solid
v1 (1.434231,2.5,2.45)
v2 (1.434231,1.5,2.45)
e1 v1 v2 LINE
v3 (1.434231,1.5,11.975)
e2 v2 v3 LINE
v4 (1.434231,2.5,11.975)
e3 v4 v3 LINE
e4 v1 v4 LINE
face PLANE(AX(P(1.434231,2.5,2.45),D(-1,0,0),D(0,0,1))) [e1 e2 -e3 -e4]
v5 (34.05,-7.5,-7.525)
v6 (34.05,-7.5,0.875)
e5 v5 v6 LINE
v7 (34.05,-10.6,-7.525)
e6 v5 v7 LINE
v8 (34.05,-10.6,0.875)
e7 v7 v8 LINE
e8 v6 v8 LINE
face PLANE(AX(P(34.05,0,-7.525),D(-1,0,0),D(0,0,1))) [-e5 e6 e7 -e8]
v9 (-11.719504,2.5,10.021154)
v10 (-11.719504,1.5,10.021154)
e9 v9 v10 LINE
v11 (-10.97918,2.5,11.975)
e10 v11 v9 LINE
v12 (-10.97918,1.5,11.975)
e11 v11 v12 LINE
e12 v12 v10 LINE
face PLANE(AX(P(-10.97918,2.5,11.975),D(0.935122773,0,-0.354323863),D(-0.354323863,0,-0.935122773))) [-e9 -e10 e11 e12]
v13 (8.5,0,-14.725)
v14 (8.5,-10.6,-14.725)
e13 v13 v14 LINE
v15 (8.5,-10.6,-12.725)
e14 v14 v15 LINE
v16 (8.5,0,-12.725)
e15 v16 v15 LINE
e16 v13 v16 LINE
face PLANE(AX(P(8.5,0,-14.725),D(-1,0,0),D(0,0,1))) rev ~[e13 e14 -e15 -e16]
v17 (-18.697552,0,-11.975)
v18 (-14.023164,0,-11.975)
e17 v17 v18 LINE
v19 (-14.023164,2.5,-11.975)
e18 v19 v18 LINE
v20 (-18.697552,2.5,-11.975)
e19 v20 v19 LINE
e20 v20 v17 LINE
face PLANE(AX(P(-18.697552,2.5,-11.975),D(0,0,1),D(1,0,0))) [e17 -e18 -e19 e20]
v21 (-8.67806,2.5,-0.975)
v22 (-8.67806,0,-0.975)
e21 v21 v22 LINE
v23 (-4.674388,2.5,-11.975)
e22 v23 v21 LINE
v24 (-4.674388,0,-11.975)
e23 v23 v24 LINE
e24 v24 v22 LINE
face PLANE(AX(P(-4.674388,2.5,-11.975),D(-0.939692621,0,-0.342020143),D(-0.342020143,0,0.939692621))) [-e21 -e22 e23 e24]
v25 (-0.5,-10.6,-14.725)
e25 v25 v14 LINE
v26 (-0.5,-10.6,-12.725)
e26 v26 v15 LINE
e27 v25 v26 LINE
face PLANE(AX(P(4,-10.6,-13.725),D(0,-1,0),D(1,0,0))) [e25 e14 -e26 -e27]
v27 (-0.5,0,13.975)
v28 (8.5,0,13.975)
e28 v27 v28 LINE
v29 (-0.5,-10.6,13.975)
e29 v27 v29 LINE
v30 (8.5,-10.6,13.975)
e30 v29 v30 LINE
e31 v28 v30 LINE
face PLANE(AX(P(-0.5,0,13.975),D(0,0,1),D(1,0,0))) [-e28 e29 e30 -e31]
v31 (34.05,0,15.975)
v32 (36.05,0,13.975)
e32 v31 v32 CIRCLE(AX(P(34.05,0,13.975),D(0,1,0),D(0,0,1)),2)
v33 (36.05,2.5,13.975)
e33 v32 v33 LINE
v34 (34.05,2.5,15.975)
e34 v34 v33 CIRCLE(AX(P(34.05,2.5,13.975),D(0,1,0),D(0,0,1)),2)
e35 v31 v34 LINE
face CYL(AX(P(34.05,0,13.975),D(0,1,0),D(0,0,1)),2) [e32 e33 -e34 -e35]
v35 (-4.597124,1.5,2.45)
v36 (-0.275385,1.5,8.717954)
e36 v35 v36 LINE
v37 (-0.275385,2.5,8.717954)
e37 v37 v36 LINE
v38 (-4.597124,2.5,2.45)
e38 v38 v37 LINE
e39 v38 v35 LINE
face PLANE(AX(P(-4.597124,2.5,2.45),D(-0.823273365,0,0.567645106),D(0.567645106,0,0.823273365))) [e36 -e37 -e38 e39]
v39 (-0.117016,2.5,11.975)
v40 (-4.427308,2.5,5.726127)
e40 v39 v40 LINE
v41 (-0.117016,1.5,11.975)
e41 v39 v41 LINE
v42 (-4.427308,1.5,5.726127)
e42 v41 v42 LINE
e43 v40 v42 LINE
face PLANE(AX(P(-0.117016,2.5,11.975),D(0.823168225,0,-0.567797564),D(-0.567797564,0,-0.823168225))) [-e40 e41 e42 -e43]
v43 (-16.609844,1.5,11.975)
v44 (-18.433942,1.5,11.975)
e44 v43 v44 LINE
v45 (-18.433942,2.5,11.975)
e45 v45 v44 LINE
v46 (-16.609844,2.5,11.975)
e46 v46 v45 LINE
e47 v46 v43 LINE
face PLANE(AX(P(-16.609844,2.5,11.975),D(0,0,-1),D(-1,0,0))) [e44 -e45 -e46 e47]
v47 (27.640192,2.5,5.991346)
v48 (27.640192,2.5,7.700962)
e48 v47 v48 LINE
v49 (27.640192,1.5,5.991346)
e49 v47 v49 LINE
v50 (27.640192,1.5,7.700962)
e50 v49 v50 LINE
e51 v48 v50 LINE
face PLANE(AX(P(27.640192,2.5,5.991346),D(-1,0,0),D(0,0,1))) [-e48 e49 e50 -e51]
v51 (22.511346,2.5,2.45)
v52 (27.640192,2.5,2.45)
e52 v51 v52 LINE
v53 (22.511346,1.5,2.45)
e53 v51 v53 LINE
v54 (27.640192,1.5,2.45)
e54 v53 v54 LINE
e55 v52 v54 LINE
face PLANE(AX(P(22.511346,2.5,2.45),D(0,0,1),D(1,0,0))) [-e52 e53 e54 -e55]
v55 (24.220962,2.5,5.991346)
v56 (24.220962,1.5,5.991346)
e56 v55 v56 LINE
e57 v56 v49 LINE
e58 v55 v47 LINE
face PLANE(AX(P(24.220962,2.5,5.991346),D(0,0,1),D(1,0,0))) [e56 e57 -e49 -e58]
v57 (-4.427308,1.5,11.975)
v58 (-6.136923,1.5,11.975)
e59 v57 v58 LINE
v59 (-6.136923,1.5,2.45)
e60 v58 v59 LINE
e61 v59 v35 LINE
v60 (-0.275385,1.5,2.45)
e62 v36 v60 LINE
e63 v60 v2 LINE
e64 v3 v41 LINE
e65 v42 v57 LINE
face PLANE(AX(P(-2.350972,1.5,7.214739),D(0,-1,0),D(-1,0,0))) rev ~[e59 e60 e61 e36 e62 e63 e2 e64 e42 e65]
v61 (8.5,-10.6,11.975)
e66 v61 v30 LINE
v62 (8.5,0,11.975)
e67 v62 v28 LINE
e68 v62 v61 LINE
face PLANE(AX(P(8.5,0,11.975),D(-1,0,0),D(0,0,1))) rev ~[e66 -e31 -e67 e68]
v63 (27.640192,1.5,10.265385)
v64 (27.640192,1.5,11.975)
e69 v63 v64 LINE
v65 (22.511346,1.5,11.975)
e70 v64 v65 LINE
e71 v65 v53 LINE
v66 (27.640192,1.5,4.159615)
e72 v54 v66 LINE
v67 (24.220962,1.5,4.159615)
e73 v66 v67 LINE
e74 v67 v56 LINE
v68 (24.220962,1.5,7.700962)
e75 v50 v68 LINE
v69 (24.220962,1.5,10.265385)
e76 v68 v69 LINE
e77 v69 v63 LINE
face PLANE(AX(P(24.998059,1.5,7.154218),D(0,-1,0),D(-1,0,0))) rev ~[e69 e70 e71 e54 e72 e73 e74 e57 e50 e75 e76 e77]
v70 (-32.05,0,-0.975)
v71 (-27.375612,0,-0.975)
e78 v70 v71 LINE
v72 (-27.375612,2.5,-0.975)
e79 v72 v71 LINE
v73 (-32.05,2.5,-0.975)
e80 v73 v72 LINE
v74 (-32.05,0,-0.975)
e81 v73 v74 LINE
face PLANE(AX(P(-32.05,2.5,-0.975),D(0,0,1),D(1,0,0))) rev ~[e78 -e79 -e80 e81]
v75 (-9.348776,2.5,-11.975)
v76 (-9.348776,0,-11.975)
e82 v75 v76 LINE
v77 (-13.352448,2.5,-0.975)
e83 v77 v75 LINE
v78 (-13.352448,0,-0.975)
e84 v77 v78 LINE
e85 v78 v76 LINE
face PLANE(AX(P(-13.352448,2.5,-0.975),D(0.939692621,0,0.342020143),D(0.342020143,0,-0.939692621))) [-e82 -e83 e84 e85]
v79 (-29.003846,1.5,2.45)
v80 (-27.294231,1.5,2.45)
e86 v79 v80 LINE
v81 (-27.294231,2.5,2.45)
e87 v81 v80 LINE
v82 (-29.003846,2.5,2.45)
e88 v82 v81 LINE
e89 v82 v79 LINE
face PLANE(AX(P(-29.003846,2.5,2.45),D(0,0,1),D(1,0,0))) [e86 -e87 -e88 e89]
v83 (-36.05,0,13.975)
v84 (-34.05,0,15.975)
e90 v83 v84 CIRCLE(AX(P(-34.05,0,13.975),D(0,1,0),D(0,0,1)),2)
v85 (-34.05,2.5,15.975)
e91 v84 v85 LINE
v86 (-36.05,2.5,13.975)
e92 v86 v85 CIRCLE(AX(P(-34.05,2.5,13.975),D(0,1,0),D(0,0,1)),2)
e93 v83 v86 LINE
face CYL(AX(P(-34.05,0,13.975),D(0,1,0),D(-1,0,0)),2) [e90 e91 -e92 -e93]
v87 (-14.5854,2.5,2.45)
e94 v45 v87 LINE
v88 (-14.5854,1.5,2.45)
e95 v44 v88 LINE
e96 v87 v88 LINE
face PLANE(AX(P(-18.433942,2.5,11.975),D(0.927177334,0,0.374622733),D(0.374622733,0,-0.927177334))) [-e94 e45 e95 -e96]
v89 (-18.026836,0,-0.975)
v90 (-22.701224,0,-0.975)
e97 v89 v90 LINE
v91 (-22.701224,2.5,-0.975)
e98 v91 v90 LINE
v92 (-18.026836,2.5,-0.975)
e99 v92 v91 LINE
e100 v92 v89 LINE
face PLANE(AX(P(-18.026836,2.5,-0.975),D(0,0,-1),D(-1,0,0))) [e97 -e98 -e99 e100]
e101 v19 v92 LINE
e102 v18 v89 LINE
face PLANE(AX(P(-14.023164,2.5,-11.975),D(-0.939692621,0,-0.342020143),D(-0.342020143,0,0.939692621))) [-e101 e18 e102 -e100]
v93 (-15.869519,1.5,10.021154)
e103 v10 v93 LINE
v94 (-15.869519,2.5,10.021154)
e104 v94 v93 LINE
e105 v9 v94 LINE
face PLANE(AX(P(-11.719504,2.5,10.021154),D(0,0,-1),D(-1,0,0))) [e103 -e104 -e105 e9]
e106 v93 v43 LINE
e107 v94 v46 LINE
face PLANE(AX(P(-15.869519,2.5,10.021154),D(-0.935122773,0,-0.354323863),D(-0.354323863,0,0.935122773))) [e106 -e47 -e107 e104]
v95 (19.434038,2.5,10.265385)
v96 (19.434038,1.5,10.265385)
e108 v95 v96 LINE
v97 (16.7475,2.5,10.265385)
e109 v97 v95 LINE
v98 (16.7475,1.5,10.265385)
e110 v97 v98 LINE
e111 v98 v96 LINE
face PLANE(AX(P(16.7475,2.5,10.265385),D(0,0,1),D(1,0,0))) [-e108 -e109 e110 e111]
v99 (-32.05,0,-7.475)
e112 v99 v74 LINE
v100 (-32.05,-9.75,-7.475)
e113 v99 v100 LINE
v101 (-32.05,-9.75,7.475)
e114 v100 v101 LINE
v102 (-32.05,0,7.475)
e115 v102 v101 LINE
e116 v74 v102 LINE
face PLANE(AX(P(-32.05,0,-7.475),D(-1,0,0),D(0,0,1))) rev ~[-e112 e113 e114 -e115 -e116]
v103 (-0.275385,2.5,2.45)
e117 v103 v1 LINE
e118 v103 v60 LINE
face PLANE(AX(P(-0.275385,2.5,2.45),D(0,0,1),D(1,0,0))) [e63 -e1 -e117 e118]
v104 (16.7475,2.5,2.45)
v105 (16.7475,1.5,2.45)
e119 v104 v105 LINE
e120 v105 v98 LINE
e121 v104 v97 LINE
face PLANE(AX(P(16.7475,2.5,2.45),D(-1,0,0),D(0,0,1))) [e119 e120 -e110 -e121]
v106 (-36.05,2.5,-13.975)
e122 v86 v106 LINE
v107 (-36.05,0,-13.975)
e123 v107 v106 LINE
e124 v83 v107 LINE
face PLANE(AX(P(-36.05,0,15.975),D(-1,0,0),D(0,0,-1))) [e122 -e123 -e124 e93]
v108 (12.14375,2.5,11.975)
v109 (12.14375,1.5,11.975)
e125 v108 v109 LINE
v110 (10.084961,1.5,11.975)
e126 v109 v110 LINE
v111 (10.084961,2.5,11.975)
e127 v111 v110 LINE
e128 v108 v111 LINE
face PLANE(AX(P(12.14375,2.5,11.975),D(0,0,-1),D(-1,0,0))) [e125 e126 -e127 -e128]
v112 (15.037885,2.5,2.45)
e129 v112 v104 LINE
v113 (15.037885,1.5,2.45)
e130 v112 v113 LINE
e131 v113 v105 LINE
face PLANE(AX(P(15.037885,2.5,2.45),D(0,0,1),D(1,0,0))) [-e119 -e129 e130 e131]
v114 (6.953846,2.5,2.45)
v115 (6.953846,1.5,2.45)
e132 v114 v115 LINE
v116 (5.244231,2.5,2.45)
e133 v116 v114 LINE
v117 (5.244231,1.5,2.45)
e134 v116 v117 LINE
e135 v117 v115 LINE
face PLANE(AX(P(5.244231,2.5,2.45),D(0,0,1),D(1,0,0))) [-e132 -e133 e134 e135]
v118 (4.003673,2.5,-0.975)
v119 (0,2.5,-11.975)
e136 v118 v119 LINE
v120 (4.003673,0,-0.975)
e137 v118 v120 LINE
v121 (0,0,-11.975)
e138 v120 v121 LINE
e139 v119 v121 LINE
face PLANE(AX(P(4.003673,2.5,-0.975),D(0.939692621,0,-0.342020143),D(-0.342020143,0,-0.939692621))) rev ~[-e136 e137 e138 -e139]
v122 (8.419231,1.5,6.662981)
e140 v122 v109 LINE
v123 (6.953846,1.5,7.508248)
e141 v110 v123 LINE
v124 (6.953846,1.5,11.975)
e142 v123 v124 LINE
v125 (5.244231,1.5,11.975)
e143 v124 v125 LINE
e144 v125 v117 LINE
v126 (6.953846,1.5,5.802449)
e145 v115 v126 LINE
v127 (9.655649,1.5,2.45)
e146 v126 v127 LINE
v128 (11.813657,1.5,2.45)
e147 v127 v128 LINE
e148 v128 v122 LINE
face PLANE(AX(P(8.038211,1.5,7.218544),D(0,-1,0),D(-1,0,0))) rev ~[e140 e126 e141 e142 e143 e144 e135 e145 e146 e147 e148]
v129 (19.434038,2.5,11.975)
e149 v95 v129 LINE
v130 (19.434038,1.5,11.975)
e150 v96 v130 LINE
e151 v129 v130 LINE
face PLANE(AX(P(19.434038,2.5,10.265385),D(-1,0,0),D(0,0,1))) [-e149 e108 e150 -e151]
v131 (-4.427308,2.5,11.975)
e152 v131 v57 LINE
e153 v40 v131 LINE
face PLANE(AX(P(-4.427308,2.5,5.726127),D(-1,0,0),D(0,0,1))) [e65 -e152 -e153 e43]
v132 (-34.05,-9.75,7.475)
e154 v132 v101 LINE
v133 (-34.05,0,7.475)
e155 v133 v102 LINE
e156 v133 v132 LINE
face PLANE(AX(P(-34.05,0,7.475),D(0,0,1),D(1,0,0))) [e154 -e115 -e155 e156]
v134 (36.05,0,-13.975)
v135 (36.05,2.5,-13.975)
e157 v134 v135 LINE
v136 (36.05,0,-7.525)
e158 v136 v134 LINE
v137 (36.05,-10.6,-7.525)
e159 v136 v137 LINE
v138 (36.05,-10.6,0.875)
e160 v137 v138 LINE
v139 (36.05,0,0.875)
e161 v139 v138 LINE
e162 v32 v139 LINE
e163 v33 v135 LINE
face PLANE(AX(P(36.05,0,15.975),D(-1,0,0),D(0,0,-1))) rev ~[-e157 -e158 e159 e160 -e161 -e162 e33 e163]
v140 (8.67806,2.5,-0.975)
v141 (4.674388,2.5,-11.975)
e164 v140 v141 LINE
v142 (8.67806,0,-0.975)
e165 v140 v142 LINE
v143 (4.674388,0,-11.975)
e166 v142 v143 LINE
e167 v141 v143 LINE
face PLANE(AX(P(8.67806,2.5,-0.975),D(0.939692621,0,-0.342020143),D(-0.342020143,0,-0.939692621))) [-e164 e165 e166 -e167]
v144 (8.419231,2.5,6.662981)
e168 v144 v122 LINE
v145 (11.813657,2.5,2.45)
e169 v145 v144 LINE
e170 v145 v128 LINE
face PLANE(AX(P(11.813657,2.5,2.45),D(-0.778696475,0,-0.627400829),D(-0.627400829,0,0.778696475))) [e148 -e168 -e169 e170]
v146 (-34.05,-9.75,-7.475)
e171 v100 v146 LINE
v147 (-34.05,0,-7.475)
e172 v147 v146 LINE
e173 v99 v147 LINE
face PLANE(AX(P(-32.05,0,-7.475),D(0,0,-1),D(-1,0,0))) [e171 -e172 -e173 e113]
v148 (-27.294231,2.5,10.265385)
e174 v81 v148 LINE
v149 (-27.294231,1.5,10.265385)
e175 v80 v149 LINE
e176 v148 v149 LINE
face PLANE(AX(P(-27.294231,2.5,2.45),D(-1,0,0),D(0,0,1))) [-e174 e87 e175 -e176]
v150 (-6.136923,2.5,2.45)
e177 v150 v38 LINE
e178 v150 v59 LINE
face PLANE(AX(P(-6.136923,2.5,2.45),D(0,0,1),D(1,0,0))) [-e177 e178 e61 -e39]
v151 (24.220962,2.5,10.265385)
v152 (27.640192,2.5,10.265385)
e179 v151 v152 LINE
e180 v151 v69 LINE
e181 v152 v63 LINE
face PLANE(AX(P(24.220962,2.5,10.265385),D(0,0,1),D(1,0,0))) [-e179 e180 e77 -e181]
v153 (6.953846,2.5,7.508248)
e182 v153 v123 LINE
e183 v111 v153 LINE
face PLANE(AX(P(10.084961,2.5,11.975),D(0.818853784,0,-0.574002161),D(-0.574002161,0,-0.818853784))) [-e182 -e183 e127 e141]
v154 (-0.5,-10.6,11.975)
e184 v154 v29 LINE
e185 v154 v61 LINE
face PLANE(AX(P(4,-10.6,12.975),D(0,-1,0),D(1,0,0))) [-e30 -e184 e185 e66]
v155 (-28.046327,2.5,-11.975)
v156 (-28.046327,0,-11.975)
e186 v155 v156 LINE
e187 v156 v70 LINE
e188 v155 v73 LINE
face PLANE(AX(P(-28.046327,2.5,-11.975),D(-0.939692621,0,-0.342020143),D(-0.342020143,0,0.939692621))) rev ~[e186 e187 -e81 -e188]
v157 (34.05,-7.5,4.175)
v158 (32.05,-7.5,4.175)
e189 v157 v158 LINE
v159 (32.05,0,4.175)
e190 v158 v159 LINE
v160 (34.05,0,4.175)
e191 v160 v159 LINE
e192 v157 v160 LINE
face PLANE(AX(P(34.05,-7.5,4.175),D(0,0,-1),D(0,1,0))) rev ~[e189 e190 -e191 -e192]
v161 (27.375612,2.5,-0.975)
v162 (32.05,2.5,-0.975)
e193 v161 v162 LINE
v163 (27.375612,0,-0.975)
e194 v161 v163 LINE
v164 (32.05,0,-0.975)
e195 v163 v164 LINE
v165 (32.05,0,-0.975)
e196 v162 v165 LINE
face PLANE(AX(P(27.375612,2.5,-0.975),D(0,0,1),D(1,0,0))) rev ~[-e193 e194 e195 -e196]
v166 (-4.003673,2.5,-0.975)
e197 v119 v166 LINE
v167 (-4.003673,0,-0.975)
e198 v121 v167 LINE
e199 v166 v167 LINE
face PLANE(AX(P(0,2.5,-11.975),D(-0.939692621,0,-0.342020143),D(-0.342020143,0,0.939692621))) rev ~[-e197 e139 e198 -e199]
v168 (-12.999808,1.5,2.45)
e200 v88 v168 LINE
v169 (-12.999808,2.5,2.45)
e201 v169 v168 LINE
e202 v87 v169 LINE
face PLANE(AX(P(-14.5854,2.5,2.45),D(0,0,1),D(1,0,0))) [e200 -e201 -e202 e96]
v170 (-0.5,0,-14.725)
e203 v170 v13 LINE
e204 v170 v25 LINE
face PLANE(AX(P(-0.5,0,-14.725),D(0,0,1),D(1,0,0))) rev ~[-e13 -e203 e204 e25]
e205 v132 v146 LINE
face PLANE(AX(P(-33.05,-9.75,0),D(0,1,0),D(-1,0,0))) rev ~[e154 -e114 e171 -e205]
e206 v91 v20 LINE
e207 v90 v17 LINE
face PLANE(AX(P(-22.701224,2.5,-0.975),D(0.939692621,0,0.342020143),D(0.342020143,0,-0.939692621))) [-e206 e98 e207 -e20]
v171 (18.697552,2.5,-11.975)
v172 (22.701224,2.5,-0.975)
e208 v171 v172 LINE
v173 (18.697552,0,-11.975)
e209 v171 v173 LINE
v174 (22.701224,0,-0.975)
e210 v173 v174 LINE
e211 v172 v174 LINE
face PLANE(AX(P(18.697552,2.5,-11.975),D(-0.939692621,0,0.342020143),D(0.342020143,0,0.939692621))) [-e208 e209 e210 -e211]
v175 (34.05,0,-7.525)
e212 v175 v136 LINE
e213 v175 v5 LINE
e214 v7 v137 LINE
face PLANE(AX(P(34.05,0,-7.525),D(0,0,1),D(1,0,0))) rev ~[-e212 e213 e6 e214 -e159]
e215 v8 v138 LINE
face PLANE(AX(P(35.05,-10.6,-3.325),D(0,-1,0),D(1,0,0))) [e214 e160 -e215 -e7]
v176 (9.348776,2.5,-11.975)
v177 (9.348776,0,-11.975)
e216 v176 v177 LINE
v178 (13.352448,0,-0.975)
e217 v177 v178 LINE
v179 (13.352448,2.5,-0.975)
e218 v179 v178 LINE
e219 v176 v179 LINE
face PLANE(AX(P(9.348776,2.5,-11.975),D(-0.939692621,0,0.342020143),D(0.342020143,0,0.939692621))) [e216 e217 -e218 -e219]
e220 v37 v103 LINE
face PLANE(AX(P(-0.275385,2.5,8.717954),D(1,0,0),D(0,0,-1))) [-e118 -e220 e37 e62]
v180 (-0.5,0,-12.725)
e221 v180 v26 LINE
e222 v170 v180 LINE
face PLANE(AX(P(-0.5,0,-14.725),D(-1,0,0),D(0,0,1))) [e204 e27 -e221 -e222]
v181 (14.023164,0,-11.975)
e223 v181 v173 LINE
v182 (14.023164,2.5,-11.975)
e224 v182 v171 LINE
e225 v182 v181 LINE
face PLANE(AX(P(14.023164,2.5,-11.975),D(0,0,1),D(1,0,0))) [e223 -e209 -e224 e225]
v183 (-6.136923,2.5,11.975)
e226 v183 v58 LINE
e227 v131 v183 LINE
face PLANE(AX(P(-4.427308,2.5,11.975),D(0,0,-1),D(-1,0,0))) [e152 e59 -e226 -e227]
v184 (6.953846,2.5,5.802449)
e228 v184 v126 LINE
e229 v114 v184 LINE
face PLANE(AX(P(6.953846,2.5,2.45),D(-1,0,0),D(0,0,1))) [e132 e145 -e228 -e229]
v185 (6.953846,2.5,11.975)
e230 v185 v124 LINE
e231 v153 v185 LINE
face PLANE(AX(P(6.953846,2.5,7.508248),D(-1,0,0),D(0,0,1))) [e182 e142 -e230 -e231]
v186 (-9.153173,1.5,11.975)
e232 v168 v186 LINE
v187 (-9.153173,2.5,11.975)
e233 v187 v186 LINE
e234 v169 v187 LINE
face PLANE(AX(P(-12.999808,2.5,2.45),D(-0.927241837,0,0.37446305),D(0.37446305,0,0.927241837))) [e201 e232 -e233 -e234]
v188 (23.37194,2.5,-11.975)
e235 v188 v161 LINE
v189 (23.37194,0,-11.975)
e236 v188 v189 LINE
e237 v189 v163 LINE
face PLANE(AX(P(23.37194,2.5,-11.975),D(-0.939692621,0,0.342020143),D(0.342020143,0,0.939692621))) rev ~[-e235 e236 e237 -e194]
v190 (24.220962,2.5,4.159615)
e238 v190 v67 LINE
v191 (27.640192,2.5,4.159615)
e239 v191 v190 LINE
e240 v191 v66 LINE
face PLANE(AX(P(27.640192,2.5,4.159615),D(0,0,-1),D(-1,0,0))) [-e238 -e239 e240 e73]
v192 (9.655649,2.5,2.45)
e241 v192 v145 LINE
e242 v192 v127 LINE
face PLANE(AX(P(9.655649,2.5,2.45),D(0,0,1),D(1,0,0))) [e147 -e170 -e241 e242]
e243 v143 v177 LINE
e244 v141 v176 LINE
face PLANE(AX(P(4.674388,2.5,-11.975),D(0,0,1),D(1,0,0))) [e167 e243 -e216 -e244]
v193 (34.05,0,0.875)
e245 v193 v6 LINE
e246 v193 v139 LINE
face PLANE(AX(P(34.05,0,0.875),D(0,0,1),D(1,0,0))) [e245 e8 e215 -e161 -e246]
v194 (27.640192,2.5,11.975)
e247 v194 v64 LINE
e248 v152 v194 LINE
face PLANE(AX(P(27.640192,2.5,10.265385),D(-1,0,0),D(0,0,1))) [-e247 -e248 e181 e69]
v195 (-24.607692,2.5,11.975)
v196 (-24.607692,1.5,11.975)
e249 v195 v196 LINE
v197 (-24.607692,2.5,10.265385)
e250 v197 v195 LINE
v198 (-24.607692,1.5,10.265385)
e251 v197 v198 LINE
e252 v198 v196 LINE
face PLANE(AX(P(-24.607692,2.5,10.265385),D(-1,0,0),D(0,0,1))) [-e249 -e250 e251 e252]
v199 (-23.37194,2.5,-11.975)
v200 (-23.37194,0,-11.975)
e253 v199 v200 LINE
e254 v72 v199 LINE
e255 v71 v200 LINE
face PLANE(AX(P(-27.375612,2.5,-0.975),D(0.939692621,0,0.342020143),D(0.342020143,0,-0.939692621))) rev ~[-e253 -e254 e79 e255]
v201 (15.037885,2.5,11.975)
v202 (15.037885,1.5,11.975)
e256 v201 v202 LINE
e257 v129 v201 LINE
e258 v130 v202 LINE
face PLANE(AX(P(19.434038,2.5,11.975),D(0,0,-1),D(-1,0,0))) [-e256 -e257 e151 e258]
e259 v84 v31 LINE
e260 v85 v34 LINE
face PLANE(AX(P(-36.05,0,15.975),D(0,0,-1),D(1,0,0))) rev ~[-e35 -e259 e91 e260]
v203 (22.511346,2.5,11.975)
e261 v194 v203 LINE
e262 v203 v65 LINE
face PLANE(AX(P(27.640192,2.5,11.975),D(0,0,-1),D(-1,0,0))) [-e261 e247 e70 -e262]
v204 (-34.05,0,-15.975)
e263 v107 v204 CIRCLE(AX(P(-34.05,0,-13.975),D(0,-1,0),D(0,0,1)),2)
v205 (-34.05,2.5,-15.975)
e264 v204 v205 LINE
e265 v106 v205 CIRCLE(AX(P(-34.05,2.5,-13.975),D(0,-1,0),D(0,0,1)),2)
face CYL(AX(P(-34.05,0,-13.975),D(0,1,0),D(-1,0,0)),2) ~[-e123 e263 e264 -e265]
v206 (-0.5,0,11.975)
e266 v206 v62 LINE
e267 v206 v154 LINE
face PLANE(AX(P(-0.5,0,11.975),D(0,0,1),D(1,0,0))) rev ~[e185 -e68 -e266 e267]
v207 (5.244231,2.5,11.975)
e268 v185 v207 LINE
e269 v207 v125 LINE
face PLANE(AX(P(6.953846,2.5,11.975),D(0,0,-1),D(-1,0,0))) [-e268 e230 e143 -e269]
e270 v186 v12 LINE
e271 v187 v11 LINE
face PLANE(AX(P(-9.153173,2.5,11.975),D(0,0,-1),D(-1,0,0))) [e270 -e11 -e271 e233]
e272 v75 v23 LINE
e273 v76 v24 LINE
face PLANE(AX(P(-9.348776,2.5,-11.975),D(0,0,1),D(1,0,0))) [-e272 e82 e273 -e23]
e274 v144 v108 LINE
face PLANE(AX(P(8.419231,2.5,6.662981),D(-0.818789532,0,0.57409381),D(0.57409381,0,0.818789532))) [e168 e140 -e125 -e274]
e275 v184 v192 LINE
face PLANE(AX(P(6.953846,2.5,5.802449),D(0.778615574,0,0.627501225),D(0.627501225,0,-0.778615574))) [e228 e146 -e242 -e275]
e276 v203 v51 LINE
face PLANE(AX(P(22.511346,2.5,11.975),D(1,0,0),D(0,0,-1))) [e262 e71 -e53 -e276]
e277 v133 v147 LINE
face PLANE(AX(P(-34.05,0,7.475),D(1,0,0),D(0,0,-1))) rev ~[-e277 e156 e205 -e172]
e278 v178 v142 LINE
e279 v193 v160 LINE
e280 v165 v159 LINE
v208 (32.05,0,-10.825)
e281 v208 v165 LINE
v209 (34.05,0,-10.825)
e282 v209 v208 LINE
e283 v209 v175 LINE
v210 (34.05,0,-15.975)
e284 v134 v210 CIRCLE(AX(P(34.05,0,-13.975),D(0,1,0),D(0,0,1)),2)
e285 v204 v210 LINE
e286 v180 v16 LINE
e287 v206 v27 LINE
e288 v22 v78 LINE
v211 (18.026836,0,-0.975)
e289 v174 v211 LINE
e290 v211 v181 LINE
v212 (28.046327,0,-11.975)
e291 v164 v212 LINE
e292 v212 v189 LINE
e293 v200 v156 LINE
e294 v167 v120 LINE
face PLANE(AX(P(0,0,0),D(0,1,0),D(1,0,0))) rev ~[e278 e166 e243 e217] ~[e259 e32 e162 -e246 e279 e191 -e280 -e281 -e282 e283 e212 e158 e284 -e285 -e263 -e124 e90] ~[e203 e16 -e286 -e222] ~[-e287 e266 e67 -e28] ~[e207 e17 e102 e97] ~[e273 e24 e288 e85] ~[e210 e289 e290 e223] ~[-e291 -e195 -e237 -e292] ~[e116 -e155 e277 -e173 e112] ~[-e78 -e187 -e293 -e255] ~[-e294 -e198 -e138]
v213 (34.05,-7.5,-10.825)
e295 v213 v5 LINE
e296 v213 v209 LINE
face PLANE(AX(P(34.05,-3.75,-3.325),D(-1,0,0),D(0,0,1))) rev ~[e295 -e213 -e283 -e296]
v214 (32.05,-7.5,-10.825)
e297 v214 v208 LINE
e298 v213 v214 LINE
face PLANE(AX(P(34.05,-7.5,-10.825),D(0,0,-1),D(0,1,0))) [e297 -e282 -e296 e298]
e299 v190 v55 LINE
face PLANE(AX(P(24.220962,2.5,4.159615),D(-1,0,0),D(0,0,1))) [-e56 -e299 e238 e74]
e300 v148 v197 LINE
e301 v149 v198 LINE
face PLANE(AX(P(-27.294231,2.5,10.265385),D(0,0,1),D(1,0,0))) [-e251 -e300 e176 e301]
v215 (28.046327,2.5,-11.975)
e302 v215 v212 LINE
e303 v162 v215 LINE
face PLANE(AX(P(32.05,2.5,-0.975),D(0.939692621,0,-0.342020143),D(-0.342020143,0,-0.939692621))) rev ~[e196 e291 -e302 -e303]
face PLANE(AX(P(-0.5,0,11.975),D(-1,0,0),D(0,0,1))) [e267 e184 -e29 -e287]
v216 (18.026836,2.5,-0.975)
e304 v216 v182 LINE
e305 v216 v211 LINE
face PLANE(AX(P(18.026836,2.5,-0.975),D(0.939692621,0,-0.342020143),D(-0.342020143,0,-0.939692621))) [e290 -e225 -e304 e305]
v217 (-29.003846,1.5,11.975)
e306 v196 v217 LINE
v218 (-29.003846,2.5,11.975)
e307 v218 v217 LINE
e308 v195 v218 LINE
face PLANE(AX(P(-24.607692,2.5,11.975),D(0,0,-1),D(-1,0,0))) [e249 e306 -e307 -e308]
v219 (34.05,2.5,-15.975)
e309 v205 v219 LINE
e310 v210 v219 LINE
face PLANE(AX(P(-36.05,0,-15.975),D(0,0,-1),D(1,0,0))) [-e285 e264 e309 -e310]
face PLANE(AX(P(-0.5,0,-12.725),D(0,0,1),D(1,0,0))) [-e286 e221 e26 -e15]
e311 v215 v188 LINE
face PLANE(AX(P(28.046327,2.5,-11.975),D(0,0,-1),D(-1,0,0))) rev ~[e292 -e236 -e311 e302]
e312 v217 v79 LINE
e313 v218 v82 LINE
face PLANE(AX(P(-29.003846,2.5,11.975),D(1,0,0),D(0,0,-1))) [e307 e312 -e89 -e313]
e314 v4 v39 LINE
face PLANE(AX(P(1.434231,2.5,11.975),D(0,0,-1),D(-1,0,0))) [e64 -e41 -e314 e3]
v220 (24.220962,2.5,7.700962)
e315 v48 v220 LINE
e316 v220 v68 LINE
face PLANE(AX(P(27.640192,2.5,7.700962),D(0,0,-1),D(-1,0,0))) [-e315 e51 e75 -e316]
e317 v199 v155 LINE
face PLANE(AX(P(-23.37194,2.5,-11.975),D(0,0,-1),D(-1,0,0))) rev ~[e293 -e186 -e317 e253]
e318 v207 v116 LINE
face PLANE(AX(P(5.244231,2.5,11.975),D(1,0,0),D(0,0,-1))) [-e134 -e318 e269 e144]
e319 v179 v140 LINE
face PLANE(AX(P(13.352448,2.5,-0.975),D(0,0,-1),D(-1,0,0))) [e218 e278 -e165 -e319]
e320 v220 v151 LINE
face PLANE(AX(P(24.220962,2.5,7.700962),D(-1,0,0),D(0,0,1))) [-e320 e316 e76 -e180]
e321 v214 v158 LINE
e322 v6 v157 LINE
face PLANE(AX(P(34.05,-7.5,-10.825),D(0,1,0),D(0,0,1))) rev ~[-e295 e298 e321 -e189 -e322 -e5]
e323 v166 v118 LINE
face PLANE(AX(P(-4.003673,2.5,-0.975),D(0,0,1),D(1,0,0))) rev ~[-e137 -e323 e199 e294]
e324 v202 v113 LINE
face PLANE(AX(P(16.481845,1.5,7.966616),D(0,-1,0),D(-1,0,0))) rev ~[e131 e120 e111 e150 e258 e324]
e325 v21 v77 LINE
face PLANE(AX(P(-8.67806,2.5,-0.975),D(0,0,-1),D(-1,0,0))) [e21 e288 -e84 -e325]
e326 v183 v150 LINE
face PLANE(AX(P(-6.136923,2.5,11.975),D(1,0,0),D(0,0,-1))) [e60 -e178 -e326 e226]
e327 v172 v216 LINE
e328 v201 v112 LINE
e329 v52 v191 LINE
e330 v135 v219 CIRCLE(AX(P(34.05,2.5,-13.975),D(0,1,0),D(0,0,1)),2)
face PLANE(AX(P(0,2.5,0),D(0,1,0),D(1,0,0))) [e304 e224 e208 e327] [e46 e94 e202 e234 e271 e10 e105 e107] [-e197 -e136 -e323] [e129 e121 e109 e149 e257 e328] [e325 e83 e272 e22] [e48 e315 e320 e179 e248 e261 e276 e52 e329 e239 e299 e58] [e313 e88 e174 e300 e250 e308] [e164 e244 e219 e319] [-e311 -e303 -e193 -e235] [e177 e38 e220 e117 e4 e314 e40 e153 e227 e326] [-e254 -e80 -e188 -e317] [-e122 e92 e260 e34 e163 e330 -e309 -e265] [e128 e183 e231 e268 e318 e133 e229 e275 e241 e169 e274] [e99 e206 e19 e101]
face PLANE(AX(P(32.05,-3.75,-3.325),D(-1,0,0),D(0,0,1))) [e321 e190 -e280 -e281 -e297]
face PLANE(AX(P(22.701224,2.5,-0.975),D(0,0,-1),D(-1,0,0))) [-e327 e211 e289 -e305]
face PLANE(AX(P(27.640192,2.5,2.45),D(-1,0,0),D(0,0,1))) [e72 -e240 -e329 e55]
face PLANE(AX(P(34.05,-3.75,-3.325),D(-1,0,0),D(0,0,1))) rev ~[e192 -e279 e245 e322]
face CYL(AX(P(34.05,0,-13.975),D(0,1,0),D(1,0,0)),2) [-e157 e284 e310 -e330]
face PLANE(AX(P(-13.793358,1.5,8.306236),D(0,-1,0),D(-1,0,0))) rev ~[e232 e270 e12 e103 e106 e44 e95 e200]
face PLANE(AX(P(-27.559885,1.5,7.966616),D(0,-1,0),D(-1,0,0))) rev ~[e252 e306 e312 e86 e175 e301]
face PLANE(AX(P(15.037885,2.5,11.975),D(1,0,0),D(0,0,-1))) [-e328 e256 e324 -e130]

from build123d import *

# Parameters (mm, degrees)
SKETCH1_W           = 72.1
SKETCH1_H           = 31.95
BOSS_EXTRUDE1_DEPTH = 2.5
FILLET1_R           = 2
SKETCH2_W           = 2
SKETCH2_H           = 8.4
SKETCH2_W_2         = 9
SKETCH2_H_2         = 2
BOSS_EXTRUDE2_DEPTH = 10.6
BOSS_EXTRUDE4_DEPTH = 9.75
CUT_EXTRUDE1_DEPTH  = 2.5
CUT_EXTRUDE2_DEPTH  = 1
CUT_EXTRUDE4_DEPTH  = 1
SKETCH8_W           = 15
SKETCH8_H           = 7.5
BOSS_EXTRUDE5_DEPTH = 2


with BuildPart() as part:
    # Sketch1 → Boss-Extrude1 (new body)
    with BuildSketch(Plane(origin=(0, 0, 0), x_dir=(1, 0, 0), z_dir=(0, 1, 0))):
        Rectangle(SKETCH1_W, SKETCH1_H)
    extrude(amount=BOSS_EXTRUDE1_DEPTH)

    # Fillet1
    fillet1_edges = [part.edges().sort_by_distance(p)[0] for p in [
        (36.05, 1.25, 15.975),
        (-36.05, 1.25, 15.975),
        (-36.05, 1.25, -15.975),
        (36.05, 1.25, -15.975),
    ]]
    fillet(fillet1_edges, radius=FILLET1_R)

    # Sketch2 → Boss-Extrude2 (add)
    with BuildSketch(Plane.XZ):
        with Locations((35.05, -3.325)):
            Rectangle(SKETCH2_W, SKETCH2_H)
        with Locations((4, -13.725)):
            Rectangle(SKETCH2_W_2, SKETCH2_H_2)
        with Locations((4, 12.975)):
            Rectangle(SKETCH2_W_2, SKETCH2_H_2)
    extrude(amount=BOSS_EXTRUDE2_DEPTH)

    # Sketch2<3> → Boss-Extrude4 (add)
    with BuildSketch(Plane.XZ):
        Polygon((-32.05, 7.475), (-32.05, -0.925), (-32.05, -7.475), (-34.05, -7.475), (-34.05, -0.925), (-34.05, 7.475), align=None)
    extrude(amount=BOSS_EXTRUDE4_DEPTH)

    # Sketch4 → Cut-Extrude1 (cut)
    with BuildSketch(Plane(origin=(0, 2.5, 0), x_dir=(1, 0, 0), z_dir=(0, 1, 0))):
        Polygon((-32.05, 0.975), (-27.375612096, 0.975), (-23.371939519, 11.975), (-28.046327423, 11.975), align=None)
        Polygon((-22.701224192, 0.975), (-18.697551615, 11.975), (-14.023163712, 11.975), (-18.026836288, 0.975), align=None)
        Polygon((-13.352448385, 0.975), (-9.348775808, 11.975), (-4.674387904, 11.975), (-8.678060481, 0.975), align=None)
        Polygon((0, 11.975), (-4.003672577, 0.975), (4.003672577, 0.975), align=None)
        Polygon((8.678060481, 0.975), (4.674387904, 11.975), (9.348775808, 11.975), (13.352448385, 0.975), align=None)
        Polygon((18.026836288, 0.975), (14.023163712, 11.975), (18.697551615, 11.975), (22.701224192, 0.975), align=None)
        Polygon((23.371939519, 11.975), (27.375612096, 0.975), (32.05, 0.975), (28.046327423, 11.975), align=None)
    extrude(amount=-CUT_EXTRUDE1_DEPTH, mode=Mode.SUBTRACT)

    # Sketch3 → Cut-Extrude2 (cut)
    # profile 1 of 6: a face of its own
    with BuildSketch(Plane(origin=(0, 2.5, 0), x_dir=(1, 0, 0), z_dir=(0, 1, 0))):
        Polygon((-29.003846154, -2.45), (-27.294230769, -2.45), (-27.294230769, -10.265384615), (-24.607692308, -10.265384615), (-24.607692308, -11.975), (-29.003846154, -11.975), align=None)
    # profile 2 of 6: a face of its own
    with BuildSketch(Plane(origin=(0, 2.5, 0), x_dir=(1, 0, 0), z_dir=(0, 1, 0))):
        Polygon((-14.585399639, -2.45), (-12.999807692, -2.45), (-9.153173077, -11.975), (-10.979179687, -11.975), (-11.719504207, -10.021153846), (-15.869519231, -10.021153846), (-16.60984375, -11.975), (-18.433942308, -11.975), align=None)
        Polygon((-13.793557692, -5.004882812), (-15.22078125, -8.311538462), (-12.366334135, -8.311538462), align=None, mode=Mode.SUBTRACT)
    # profile 3 of 6: a face of its own
    with BuildSketch(Plane(origin=(0, 2.5, 0), x_dir=(1, 0, 0), z_dir=(0, 1, 0))):
        Polygon((-6.136923077, -2.45), (-4.597124399, -2.45), (-0.275384615, -8.717953726), (-0.275384615, -2.45), (1.434230769, -2.45), (1.434230769, -11.975), (-0.117016226, -11.975), (-4.427307692, -5.726126803), (-4.427307692, -11.975), (-6.136923077, -11.975), align=None)
    # profile 4 of 6: a face of its own
    with BuildSketch(Plane(origin=(0, 2.5, 0), x_dir=(1, 0, 0), z_dir=(0, 1, 0))):
        Polygon((5.244230769, -2.45), (6.953846154, -2.45), (6.953846154, -5.802448918), (9.655649038, -2.45), (11.813656851, -2.45), (8.419230769, -6.662980769), (12.14375, -11.975), (10.084960938, -11.975), (6.953846154, -7.508248197), (6.953846154, -11.975), (5.244230769, -11.975), align=None)
    # profile 5 of 6: a face of its own
    with BuildSketch(Plane(origin=(0, 2.5, 0), x_dir=(1, 0, 0), z_dir=(0, 1, 0))):
        Polygon((15.037884615, -2.45), (16.7475, -2.45), (16.7475, -10.265384615), (19.434038462, -10.265384615), (19.434038462, -11.975), (15.037884615, -11.975), align=None)
    # profile 6 of 6: a face of its own
    with BuildSketch(Plane(origin=(0, 2.5, 0), x_dir=(1, 0, 0), z_dir=(0, 1, 0))):
        Polygon((22.511346154, -2.45), (27.640192308, -2.45), (27.640192308, -4.159615385), (24.220961538, -4.159615385), (24.220961538, -5.991346154), (27.640192308, -5.991346154), (27.640192308, -7.700961538), (24.220961538, -7.700961538), (24.220961538, -10.265384615), (27.640192308, -10.265384615), (27.640192308, -11.975), (22.511346154, -11.975), align=None)
    extrude(amount=-CUT_EXTRUDE2_DEPTH, mode=Mode.SUBTRACT)

    # Sketch7 → Cut-Extrude4 (cut)
    with BuildSketch(Plane(origin=(0, 2.5, 0), x_dir=(1, 0, 0), z_dir=(0, 1, 0))):
        Polygon((-12.366334135, -8.311538462), (-13.793557692, -5.004882812), (-15.22078125, -8.311538462), align=None)
    extrude(amount=-CUT_EXTRUDE4_DEPTH, mode=Mode.SUBTRACT)

    # Sketch8 → Boss-Extrude5 (add)
    with BuildSketch(Plane.ZY.offset(-34.05)):
        with Locations((-3.325, -3.75)):
            Rectangle(SKETCH8_W, SKETCH8_H)
    extrude(amount=BOSS_EXTRUDE5_DEPTH)


solid = part.part
